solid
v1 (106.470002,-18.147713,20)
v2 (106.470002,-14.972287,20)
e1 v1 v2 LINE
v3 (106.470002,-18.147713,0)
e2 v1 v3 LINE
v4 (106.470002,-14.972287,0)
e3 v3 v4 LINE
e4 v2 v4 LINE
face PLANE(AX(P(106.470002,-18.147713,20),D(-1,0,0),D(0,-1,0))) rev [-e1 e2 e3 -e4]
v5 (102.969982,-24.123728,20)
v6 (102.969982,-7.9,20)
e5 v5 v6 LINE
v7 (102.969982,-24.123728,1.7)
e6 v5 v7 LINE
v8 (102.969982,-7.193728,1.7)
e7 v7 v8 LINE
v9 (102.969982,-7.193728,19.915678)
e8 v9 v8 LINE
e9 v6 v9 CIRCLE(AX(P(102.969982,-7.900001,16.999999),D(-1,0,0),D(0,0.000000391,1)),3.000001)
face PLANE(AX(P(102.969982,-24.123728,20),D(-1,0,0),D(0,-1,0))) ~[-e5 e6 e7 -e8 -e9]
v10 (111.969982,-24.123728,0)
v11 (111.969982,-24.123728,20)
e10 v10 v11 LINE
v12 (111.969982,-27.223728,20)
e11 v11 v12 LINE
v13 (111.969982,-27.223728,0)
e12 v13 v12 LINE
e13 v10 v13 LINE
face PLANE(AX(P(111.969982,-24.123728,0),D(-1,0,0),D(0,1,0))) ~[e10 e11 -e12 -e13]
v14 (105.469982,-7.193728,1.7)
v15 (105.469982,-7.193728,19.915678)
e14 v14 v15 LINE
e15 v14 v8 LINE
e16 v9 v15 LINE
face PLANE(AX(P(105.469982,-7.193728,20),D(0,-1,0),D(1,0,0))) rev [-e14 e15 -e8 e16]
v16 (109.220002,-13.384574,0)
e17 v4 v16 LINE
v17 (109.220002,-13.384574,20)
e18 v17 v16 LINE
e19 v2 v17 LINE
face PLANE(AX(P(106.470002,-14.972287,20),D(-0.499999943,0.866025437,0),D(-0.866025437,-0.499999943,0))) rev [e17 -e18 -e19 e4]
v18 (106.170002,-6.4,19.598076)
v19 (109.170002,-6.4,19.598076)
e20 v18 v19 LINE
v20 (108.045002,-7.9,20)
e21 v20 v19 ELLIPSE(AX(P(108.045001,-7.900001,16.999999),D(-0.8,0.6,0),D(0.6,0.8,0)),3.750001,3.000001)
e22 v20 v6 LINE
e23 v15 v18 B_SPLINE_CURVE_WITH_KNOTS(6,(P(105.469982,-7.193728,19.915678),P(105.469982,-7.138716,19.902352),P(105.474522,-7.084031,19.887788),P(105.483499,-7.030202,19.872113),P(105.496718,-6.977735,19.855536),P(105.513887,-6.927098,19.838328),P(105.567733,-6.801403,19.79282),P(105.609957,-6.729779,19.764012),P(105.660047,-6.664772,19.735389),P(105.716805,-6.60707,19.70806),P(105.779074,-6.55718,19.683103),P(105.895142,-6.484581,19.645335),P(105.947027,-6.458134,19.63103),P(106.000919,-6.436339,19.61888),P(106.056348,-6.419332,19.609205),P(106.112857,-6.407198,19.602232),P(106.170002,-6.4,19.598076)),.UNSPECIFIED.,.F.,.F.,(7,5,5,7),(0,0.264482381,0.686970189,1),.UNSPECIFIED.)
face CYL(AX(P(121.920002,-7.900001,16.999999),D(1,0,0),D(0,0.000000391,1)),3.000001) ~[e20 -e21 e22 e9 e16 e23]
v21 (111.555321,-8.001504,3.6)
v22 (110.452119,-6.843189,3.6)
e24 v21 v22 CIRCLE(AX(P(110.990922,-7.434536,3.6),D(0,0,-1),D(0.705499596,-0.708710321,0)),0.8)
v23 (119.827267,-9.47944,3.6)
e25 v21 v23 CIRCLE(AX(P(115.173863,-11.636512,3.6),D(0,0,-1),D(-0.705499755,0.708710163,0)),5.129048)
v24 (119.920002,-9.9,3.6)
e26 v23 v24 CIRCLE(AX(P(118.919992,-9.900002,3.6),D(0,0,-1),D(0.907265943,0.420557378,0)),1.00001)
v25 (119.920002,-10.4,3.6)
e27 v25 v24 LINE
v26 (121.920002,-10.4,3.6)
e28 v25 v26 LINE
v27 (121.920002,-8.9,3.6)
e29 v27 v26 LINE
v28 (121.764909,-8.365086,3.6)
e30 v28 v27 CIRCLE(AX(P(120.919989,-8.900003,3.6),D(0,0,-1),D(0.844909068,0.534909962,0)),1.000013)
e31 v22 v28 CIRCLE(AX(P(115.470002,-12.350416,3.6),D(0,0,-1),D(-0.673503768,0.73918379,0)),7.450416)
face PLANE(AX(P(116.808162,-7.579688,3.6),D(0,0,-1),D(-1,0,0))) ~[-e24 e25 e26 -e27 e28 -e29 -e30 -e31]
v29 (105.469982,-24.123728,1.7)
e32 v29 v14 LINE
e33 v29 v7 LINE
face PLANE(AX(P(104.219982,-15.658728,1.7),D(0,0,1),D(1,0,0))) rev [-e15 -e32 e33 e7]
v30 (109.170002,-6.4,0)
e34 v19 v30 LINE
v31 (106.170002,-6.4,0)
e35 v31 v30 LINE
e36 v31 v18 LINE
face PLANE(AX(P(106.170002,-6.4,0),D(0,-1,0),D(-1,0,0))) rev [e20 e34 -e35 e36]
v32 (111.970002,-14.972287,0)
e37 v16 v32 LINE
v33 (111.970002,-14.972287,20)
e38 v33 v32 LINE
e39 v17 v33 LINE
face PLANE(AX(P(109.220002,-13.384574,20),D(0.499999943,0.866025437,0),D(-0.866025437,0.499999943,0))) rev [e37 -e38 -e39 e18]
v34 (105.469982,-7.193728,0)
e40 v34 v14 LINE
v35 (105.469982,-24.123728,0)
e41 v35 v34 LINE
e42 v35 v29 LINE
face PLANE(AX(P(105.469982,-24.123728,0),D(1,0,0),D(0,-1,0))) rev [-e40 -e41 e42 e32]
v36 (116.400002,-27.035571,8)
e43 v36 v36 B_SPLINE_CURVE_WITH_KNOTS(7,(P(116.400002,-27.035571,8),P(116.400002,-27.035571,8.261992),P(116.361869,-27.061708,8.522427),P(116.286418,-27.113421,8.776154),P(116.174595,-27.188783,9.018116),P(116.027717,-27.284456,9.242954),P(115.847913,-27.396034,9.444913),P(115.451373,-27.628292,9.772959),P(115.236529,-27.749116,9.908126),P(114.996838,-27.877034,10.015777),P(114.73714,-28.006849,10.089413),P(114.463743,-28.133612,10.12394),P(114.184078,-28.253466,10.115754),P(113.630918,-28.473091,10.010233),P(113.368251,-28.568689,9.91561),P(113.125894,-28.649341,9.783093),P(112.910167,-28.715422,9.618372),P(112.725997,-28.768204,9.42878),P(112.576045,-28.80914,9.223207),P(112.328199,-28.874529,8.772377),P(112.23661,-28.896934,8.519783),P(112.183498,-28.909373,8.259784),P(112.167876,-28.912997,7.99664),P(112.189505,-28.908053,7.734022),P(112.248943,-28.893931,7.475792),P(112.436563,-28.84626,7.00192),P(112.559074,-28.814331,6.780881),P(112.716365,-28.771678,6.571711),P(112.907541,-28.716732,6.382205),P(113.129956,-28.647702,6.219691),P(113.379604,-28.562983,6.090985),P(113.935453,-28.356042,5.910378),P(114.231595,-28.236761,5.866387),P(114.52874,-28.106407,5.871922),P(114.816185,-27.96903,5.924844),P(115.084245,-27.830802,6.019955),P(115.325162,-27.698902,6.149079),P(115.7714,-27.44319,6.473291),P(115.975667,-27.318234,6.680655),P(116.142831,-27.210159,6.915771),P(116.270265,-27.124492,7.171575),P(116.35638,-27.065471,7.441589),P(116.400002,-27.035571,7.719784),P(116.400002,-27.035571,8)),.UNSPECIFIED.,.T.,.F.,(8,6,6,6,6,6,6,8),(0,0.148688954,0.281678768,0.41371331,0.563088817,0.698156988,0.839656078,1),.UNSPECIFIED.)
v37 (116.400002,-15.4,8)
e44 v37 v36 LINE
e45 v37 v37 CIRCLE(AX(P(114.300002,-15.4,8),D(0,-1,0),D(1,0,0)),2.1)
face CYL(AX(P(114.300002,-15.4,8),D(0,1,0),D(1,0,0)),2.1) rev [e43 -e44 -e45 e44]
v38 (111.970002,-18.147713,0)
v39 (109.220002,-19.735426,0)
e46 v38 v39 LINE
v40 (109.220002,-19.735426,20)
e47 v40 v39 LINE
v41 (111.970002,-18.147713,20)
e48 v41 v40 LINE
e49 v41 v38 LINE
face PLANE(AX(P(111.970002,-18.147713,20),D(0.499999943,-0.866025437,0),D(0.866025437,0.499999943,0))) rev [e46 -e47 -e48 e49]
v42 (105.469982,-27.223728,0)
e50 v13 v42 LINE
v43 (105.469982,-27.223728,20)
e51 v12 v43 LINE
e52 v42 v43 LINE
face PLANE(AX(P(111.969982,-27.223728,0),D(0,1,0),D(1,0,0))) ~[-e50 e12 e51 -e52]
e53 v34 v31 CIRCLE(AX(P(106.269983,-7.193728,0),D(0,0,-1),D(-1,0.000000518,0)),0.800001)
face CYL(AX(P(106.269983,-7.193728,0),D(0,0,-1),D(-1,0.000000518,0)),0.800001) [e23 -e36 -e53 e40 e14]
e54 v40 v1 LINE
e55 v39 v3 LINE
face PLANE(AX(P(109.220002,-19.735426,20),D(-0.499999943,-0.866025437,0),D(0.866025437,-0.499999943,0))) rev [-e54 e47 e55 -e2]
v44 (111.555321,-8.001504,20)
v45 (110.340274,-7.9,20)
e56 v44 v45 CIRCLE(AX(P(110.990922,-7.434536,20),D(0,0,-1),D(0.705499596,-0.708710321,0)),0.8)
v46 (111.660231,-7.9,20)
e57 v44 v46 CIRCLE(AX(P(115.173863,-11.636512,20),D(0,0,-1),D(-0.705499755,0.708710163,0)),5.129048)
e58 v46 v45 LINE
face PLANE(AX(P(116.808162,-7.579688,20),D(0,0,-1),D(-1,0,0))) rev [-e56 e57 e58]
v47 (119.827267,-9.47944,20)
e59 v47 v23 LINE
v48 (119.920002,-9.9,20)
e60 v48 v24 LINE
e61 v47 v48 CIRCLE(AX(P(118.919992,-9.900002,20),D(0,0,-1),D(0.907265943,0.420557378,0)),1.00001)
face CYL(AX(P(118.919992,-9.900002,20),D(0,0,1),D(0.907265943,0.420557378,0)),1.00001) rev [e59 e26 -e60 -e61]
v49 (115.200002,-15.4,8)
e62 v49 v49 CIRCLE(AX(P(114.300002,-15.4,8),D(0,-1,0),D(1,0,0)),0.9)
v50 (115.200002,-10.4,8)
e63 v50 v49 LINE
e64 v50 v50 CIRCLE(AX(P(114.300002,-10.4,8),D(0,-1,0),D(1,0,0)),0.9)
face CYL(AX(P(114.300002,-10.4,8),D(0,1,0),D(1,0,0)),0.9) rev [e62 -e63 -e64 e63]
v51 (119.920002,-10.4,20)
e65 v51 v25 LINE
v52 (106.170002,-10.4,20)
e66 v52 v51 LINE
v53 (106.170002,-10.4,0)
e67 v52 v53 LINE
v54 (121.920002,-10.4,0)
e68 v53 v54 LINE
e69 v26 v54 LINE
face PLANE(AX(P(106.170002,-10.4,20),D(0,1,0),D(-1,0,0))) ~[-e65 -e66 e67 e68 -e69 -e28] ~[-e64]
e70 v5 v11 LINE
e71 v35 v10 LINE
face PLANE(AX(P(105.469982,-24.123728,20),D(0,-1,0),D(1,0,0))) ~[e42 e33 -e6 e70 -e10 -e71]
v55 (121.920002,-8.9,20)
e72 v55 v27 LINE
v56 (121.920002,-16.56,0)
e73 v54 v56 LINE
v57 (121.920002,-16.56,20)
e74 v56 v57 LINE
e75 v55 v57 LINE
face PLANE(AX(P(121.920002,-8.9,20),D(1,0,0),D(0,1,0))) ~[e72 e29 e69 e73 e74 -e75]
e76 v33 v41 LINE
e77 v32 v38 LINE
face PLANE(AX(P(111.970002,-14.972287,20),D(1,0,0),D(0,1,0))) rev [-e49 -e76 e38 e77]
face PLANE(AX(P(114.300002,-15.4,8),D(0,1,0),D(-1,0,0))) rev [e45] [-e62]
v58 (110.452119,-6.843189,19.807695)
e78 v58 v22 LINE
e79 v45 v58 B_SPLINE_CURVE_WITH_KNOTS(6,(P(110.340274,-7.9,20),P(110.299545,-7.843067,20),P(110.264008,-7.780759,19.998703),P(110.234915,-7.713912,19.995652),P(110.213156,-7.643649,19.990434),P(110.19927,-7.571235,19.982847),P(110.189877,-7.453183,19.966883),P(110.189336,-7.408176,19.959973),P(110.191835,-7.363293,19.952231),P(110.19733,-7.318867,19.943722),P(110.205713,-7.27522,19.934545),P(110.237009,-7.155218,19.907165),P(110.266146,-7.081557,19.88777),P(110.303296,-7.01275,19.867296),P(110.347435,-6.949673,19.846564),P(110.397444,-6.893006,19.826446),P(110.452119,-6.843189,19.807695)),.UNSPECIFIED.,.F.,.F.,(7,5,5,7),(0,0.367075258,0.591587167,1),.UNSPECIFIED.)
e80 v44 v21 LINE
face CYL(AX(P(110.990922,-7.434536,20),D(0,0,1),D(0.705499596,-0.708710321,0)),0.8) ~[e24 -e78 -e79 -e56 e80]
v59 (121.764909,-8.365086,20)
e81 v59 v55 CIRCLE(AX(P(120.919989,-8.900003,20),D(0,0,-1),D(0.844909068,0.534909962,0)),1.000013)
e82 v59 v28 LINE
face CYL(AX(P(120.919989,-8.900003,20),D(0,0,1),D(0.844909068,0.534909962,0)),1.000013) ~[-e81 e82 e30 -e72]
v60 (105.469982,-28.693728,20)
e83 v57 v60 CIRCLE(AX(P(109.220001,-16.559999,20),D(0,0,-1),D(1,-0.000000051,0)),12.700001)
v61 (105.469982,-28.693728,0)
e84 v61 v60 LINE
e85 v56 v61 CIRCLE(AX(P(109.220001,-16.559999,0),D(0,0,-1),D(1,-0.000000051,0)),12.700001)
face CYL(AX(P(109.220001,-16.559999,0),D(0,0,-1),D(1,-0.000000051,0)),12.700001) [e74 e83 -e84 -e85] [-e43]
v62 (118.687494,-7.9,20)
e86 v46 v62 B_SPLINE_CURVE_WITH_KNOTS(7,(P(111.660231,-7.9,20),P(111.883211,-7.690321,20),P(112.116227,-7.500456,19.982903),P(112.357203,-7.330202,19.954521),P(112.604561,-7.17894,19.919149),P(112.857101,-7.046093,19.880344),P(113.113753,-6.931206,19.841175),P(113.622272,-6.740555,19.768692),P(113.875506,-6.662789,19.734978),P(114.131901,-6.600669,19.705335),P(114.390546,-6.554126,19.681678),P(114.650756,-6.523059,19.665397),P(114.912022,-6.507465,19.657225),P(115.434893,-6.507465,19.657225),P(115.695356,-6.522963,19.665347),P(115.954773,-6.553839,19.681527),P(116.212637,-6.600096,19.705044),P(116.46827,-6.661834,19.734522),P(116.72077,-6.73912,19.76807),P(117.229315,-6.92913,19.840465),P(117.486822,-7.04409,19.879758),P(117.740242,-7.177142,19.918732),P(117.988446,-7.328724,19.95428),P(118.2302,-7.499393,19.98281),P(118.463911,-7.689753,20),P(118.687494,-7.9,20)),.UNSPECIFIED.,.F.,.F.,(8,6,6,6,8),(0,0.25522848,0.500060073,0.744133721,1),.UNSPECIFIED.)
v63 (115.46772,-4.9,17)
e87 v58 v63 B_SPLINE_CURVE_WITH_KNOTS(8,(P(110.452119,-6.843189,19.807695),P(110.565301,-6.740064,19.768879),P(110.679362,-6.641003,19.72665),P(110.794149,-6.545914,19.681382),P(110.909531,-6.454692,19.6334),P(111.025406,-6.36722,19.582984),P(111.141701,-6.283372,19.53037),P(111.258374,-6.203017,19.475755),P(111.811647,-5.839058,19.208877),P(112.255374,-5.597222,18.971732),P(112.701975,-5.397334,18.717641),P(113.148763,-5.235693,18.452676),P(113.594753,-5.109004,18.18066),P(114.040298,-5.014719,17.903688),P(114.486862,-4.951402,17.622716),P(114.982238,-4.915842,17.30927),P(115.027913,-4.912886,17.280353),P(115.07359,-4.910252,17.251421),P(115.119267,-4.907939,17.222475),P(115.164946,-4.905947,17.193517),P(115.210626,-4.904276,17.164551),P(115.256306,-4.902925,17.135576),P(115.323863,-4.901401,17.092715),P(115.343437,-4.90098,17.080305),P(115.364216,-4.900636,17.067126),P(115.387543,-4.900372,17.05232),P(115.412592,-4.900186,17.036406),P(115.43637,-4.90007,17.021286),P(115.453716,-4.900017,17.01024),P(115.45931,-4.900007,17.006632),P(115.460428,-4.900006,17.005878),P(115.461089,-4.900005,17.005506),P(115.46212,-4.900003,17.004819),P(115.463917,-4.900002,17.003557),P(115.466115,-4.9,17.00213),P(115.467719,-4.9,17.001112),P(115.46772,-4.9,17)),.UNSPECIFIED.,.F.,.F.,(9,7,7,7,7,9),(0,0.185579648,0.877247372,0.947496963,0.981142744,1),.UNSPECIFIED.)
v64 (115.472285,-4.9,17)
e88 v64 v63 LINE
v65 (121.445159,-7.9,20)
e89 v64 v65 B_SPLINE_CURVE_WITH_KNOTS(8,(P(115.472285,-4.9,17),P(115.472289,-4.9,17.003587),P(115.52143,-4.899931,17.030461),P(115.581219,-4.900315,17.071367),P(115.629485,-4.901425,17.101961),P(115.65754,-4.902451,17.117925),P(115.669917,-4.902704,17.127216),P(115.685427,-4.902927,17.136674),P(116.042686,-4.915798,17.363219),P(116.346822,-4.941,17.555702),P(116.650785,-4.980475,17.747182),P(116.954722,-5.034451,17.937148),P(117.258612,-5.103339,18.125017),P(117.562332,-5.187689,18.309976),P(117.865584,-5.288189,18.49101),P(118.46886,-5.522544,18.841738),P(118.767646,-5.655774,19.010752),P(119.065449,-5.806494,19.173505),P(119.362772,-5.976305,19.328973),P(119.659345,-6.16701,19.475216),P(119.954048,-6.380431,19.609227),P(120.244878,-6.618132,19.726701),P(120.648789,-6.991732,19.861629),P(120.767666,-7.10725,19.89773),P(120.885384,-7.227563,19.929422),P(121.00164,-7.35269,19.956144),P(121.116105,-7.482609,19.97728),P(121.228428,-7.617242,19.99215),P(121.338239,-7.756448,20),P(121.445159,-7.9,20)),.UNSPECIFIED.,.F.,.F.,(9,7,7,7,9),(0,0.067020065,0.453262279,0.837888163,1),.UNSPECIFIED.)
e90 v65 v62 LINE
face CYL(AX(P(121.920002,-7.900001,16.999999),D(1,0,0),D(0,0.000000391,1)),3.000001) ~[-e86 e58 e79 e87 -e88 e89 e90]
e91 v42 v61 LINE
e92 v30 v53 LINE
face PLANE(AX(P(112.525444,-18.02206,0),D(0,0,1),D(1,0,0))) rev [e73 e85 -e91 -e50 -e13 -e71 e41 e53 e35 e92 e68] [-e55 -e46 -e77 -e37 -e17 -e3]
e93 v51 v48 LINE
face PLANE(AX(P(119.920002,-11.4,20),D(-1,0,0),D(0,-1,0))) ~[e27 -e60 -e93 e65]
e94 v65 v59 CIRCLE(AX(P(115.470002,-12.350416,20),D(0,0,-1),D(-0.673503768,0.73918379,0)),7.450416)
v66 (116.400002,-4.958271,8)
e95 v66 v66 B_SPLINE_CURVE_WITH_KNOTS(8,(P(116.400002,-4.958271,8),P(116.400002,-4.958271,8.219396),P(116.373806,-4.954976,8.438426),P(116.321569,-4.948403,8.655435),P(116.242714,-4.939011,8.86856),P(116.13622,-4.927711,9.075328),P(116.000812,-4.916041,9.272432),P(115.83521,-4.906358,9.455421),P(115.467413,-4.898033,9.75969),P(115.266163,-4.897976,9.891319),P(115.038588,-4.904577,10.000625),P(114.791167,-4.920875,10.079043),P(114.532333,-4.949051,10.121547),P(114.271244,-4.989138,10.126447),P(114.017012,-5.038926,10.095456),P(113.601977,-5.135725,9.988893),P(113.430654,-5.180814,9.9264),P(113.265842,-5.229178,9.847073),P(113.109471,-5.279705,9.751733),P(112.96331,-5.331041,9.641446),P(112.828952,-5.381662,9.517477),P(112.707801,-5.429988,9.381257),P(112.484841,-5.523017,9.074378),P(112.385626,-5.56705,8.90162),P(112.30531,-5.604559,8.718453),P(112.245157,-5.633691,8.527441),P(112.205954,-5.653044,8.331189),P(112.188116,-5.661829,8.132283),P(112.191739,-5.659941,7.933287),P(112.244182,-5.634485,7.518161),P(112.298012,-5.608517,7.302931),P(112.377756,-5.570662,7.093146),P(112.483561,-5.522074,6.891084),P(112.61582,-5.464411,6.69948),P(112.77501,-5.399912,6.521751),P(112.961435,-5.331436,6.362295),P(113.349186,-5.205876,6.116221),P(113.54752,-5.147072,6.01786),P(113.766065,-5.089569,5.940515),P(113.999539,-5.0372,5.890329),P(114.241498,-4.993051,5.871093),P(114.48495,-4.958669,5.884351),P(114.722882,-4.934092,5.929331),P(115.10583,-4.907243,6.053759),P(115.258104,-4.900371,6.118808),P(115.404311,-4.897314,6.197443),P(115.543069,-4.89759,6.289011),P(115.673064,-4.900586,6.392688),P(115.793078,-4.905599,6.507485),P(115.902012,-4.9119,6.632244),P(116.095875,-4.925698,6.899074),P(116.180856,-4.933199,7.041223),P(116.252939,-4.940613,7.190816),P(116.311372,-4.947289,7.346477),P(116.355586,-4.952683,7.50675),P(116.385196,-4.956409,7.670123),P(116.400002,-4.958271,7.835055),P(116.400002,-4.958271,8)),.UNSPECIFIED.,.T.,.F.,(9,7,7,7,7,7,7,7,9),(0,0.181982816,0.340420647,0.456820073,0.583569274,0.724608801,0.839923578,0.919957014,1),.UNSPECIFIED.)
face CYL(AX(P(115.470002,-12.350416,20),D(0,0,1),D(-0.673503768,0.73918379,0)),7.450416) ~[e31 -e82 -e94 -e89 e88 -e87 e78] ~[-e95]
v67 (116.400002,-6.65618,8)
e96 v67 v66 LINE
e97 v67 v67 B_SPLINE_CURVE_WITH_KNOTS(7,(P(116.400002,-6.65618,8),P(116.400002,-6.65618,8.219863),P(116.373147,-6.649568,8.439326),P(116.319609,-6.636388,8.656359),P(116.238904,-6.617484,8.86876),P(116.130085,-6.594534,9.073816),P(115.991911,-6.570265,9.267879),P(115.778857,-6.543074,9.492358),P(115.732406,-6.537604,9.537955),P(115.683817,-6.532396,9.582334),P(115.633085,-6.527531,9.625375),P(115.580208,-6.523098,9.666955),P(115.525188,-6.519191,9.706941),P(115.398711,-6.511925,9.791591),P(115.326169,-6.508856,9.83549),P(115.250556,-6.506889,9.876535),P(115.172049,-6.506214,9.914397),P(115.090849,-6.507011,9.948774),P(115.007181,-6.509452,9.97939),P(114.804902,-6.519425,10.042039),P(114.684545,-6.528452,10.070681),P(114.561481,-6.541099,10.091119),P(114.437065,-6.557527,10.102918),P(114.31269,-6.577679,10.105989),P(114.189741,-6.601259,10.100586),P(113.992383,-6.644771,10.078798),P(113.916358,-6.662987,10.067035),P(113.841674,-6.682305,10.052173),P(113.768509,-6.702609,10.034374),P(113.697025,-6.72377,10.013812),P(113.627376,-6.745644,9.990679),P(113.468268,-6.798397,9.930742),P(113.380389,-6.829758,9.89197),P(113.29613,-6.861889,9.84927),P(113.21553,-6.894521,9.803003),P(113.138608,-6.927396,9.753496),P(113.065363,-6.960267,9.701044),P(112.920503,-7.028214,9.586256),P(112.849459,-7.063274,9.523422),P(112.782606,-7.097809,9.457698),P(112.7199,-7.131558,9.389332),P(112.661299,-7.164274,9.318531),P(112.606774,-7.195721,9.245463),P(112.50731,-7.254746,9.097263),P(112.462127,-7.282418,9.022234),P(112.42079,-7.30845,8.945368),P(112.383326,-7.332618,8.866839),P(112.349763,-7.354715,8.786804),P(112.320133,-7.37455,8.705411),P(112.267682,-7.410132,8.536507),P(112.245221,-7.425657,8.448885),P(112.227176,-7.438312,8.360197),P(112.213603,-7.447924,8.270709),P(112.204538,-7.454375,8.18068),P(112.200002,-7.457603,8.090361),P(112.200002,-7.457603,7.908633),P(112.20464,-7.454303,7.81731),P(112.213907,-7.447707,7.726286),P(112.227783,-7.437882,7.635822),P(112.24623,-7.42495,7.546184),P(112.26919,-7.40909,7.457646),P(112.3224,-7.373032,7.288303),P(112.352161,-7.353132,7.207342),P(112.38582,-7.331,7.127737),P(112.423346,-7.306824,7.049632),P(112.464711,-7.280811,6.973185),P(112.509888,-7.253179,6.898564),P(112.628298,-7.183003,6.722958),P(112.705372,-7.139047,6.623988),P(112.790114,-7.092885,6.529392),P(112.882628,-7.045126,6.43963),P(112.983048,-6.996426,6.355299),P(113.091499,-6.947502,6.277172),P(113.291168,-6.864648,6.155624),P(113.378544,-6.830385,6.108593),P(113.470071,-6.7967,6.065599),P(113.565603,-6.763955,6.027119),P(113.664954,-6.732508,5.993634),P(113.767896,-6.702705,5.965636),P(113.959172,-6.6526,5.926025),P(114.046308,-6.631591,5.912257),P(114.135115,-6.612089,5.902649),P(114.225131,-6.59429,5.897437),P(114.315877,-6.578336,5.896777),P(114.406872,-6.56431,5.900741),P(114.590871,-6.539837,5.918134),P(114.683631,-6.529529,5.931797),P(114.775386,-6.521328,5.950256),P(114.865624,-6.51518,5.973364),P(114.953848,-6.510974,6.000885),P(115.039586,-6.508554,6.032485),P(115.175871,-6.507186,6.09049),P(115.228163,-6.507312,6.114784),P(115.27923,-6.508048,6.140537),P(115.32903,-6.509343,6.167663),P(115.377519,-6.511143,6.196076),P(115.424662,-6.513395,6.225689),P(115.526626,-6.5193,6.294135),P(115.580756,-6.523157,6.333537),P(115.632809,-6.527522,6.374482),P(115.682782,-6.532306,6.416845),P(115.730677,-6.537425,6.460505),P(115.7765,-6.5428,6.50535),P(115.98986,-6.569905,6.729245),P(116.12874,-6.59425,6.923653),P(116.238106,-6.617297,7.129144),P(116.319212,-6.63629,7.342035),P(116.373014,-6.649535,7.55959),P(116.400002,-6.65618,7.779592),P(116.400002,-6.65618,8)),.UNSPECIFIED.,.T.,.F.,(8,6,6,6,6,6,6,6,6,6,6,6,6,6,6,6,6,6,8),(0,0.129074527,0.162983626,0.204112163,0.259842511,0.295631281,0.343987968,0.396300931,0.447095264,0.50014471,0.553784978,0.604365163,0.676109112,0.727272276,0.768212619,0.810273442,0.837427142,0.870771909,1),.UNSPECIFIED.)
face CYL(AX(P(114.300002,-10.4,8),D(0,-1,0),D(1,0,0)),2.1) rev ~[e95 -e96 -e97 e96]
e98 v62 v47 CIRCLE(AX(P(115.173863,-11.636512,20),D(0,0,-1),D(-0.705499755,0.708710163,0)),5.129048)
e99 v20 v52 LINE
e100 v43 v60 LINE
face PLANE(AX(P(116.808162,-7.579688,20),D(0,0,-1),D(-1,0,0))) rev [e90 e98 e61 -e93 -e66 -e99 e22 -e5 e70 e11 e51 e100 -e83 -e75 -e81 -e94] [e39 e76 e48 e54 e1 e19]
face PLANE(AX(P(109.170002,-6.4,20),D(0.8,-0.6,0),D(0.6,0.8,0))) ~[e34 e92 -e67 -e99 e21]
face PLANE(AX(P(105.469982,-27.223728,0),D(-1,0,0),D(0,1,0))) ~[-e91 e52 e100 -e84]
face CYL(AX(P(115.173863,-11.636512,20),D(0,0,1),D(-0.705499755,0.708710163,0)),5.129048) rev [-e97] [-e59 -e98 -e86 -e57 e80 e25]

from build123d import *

# Parameters (mm, degrees)
SKETCH016_R     = 2.4
PAD017_DEPTH    = 20
SKETCH020_W     = 2.5
SKETCH020_H     = 16.93
PAD021_DEPTH    = 18.3
POCKET002_DEPTH = 20
POCKET004_DEPTH = 20.001
PAD029_DEPTH    = 16.4
POCKET013_DEPTH = 18.95102
SKETCH036_R     = 2.1
POCKET014_DEPTH = 13.861
SKETCH037_R     = 2.1
POCKET015_DEPTH = 5.501
SKETCH045_R     = 0.9
POCKET016_DEPTH = 18.861


with BuildPart() as corner_front_left:
    # Sketch016 → Pad017 (new body)
    with BuildSketch(Plane.XY):
        with BuildLine():
            ThreePointArc((-121.92, -35.56), (-116.758725, -45.780451), (-105.46998, -47.693728))
            Line((-105.46998, -46.223728), (-105.46998, -47.693728))
            Line((-111.96998, -46.223728), (-105.46998, -46.223728))
            Line((-111.96998, -43.123728), (-111.96998, -46.223728))
            Line((-105.46998, -43.123728), (-111.96998, -43.123728))
            Line((-105.46998, -31.693728), (-105.46998, -43.123728))
            Line((-105.46998, -31.693728), (-105.46998, -26.193728))
            ThreePointArc((-105.46998, -26.193728), (-105.669987, -25.66457), (-106.17, -25.4))
            Line((-106.17, -25.4), (-121.92, -25.4))
            Line((-121.92, -25.4), (-121.92, -35.56))
        make_face()
        with Locations((-109.22, -35.56)):
            Circle(SKETCH016_R, mode=Mode.SUBTRACT)
    extrude(amount=PAD017_DEPTH)

    # Sketch020 (on Face13 of Pad017) → Pad021 (join)
    with BuildSketch(Plane.XY.offset(20)):
        with Locations((-104.21998, -34.658728)):
            Rectangle(SKETCH020_W, SKETCH020_H)
    extrude(amount=-PAD021_DEPTH)

    # Sketch028 (on Face15 of Pad021) → Pocket002 (cut)
    with BuildSketch(Plane.XY.offset(20)):
        Polygon((-106.47, -37.147713), (-106.47, -33.972287), (-109.22, -32.384574), (-111.97, -33.972287), (-111.97, -37.147713), (-109.22, -38.735426), align=None)
    extrude(amount=-POCKET002_DEPTH, mode=Mode.SUBTRACT)

    # Sketch031 (on Face19 of Pocket002) → Pocket004 (cut, through all)
    with BuildSketch(Plane.XY.offset(20)):
        Polygon((-121.92, -25.4), (-109.17, -25.4), (-106.17, -29.4), (-121.92, -29.4), align=None)
    extrude(amount=-POCKET004_DEPTH, mode=Mode.SUBTRACT)

    # Sketch032 (on Face21 of Pocket004) → Pad029 (join)
    with BuildSketch(Plane.XY.offset(20)):
        with BuildLine():
            Line((-119.92, -29.4), (-119.92, -28.9))
            ThreePointArc((-119.827265, -28.47944), (-119.896541, -28.684669), (-119.92, -28.9))
            ThreePointArc((-111.555319, -27.001504), (-116.075974, -25.587421), (-119.827265, -28.47944))
            ThreePointArc((-111.555319, -27.001504), (-110.411621, -26.986272), (-110.452117, -25.843189))
            ThreePointArc((-110.452117, -25.843189), (-116.463348, -23.966517), (-121.764907, -27.365086))
            ThreePointArc((-121.764907, -27.365086), (-121.880444, -27.621528), (-121.92, -27.9))
            Line((-121.92, -27.9), (-121.92, -29.4))
            Line((-121.92, -29.4), (-121.92, -30.4))
            Line((-121.92, -30.4), (-119.92, -30.4))
            Line((-119.92, -30.4), (-119.92, -29.4))
        make_face()
    extrude(amount=-PAD029_DEPTH)

    # Sketch034 (on Plane of DatumPlane001) → Pocket013 (cut, through all)
    with BuildSketch(Plane(origin=(-121.92, 0, 0), x_dir=(0, -1, 0), z_dir=(-1, 0, 0))):
        with BuildLine():
            Line((26.9, 20), (26.9, 21))
            Line((26.9, 21), (22.9, 21))
            Line((22.9, 21), (22.9, 17))
            Line((22.9, 17), (23.9, 17))
            ThreePointArc((26.9, 20), (24.77868, 19.12132), (23.9, 17))
        make_face()
    extrude(amount=-POCKET013_DEPTH, mode=Mode.SUBTRACT)

    # Sketch036 (on Face8 of Pocket013) → Pocket014 (cut, through all)
    with BuildSketch(Plane(origin=(0, -34.4, 0), x_dir=(-1, 0, 0), z_dir=(0, 1, 0))):
        with Locations((114.3, 8)):
            Circle(SKETCH036_R)
    extrude(amount=-POCKET014_DEPTH, mode=Mode.SUBTRACT)

    # Sketch037 (on Face8 of Pocket014) → Pocket015 (cut, through all)
    with BuildSketch(Plane(origin=(0, -29.4, 0), x_dir=(-1, 0, 0), z_dir=(0, 1, 0))):
        with Locations((114.3, 8)):
            Circle(SKETCH037_R)
    extrude(amount=POCKET015_DEPTH, mode=Mode.SUBTRACT)

    # Sketch045 (on Face8 of Pocket015) → Pocket016 (cut, through all)
    with BuildSketch(Plane(origin=(0, -29.4, 0), x_dir=(-1, 0, 0), z_dir=(0, 1, 0))):
        with Locations((114.3, 8)):
            Circle(SKETCH045_R)
    extrude(amount=-POCKET016_DEPTH, mode=Mode.SUBTRACT)


with BuildPart() as corner_front_left_1:
    # Body012 placement: moved
    add(corner_front_left.part.moved(Location((0, 19, 0))))


with BuildPart() as corner_front_right_mirrored:
    # mirror: instance of Corner_front_left
    add(corner_front_left_1.part.mirror(Plane(origin=(1e-06, -17.077076, 10), x_dir=(0, -1, 0), z_dir=(1, 0, 0))))


solid = corner_front_right_mirrored.part
